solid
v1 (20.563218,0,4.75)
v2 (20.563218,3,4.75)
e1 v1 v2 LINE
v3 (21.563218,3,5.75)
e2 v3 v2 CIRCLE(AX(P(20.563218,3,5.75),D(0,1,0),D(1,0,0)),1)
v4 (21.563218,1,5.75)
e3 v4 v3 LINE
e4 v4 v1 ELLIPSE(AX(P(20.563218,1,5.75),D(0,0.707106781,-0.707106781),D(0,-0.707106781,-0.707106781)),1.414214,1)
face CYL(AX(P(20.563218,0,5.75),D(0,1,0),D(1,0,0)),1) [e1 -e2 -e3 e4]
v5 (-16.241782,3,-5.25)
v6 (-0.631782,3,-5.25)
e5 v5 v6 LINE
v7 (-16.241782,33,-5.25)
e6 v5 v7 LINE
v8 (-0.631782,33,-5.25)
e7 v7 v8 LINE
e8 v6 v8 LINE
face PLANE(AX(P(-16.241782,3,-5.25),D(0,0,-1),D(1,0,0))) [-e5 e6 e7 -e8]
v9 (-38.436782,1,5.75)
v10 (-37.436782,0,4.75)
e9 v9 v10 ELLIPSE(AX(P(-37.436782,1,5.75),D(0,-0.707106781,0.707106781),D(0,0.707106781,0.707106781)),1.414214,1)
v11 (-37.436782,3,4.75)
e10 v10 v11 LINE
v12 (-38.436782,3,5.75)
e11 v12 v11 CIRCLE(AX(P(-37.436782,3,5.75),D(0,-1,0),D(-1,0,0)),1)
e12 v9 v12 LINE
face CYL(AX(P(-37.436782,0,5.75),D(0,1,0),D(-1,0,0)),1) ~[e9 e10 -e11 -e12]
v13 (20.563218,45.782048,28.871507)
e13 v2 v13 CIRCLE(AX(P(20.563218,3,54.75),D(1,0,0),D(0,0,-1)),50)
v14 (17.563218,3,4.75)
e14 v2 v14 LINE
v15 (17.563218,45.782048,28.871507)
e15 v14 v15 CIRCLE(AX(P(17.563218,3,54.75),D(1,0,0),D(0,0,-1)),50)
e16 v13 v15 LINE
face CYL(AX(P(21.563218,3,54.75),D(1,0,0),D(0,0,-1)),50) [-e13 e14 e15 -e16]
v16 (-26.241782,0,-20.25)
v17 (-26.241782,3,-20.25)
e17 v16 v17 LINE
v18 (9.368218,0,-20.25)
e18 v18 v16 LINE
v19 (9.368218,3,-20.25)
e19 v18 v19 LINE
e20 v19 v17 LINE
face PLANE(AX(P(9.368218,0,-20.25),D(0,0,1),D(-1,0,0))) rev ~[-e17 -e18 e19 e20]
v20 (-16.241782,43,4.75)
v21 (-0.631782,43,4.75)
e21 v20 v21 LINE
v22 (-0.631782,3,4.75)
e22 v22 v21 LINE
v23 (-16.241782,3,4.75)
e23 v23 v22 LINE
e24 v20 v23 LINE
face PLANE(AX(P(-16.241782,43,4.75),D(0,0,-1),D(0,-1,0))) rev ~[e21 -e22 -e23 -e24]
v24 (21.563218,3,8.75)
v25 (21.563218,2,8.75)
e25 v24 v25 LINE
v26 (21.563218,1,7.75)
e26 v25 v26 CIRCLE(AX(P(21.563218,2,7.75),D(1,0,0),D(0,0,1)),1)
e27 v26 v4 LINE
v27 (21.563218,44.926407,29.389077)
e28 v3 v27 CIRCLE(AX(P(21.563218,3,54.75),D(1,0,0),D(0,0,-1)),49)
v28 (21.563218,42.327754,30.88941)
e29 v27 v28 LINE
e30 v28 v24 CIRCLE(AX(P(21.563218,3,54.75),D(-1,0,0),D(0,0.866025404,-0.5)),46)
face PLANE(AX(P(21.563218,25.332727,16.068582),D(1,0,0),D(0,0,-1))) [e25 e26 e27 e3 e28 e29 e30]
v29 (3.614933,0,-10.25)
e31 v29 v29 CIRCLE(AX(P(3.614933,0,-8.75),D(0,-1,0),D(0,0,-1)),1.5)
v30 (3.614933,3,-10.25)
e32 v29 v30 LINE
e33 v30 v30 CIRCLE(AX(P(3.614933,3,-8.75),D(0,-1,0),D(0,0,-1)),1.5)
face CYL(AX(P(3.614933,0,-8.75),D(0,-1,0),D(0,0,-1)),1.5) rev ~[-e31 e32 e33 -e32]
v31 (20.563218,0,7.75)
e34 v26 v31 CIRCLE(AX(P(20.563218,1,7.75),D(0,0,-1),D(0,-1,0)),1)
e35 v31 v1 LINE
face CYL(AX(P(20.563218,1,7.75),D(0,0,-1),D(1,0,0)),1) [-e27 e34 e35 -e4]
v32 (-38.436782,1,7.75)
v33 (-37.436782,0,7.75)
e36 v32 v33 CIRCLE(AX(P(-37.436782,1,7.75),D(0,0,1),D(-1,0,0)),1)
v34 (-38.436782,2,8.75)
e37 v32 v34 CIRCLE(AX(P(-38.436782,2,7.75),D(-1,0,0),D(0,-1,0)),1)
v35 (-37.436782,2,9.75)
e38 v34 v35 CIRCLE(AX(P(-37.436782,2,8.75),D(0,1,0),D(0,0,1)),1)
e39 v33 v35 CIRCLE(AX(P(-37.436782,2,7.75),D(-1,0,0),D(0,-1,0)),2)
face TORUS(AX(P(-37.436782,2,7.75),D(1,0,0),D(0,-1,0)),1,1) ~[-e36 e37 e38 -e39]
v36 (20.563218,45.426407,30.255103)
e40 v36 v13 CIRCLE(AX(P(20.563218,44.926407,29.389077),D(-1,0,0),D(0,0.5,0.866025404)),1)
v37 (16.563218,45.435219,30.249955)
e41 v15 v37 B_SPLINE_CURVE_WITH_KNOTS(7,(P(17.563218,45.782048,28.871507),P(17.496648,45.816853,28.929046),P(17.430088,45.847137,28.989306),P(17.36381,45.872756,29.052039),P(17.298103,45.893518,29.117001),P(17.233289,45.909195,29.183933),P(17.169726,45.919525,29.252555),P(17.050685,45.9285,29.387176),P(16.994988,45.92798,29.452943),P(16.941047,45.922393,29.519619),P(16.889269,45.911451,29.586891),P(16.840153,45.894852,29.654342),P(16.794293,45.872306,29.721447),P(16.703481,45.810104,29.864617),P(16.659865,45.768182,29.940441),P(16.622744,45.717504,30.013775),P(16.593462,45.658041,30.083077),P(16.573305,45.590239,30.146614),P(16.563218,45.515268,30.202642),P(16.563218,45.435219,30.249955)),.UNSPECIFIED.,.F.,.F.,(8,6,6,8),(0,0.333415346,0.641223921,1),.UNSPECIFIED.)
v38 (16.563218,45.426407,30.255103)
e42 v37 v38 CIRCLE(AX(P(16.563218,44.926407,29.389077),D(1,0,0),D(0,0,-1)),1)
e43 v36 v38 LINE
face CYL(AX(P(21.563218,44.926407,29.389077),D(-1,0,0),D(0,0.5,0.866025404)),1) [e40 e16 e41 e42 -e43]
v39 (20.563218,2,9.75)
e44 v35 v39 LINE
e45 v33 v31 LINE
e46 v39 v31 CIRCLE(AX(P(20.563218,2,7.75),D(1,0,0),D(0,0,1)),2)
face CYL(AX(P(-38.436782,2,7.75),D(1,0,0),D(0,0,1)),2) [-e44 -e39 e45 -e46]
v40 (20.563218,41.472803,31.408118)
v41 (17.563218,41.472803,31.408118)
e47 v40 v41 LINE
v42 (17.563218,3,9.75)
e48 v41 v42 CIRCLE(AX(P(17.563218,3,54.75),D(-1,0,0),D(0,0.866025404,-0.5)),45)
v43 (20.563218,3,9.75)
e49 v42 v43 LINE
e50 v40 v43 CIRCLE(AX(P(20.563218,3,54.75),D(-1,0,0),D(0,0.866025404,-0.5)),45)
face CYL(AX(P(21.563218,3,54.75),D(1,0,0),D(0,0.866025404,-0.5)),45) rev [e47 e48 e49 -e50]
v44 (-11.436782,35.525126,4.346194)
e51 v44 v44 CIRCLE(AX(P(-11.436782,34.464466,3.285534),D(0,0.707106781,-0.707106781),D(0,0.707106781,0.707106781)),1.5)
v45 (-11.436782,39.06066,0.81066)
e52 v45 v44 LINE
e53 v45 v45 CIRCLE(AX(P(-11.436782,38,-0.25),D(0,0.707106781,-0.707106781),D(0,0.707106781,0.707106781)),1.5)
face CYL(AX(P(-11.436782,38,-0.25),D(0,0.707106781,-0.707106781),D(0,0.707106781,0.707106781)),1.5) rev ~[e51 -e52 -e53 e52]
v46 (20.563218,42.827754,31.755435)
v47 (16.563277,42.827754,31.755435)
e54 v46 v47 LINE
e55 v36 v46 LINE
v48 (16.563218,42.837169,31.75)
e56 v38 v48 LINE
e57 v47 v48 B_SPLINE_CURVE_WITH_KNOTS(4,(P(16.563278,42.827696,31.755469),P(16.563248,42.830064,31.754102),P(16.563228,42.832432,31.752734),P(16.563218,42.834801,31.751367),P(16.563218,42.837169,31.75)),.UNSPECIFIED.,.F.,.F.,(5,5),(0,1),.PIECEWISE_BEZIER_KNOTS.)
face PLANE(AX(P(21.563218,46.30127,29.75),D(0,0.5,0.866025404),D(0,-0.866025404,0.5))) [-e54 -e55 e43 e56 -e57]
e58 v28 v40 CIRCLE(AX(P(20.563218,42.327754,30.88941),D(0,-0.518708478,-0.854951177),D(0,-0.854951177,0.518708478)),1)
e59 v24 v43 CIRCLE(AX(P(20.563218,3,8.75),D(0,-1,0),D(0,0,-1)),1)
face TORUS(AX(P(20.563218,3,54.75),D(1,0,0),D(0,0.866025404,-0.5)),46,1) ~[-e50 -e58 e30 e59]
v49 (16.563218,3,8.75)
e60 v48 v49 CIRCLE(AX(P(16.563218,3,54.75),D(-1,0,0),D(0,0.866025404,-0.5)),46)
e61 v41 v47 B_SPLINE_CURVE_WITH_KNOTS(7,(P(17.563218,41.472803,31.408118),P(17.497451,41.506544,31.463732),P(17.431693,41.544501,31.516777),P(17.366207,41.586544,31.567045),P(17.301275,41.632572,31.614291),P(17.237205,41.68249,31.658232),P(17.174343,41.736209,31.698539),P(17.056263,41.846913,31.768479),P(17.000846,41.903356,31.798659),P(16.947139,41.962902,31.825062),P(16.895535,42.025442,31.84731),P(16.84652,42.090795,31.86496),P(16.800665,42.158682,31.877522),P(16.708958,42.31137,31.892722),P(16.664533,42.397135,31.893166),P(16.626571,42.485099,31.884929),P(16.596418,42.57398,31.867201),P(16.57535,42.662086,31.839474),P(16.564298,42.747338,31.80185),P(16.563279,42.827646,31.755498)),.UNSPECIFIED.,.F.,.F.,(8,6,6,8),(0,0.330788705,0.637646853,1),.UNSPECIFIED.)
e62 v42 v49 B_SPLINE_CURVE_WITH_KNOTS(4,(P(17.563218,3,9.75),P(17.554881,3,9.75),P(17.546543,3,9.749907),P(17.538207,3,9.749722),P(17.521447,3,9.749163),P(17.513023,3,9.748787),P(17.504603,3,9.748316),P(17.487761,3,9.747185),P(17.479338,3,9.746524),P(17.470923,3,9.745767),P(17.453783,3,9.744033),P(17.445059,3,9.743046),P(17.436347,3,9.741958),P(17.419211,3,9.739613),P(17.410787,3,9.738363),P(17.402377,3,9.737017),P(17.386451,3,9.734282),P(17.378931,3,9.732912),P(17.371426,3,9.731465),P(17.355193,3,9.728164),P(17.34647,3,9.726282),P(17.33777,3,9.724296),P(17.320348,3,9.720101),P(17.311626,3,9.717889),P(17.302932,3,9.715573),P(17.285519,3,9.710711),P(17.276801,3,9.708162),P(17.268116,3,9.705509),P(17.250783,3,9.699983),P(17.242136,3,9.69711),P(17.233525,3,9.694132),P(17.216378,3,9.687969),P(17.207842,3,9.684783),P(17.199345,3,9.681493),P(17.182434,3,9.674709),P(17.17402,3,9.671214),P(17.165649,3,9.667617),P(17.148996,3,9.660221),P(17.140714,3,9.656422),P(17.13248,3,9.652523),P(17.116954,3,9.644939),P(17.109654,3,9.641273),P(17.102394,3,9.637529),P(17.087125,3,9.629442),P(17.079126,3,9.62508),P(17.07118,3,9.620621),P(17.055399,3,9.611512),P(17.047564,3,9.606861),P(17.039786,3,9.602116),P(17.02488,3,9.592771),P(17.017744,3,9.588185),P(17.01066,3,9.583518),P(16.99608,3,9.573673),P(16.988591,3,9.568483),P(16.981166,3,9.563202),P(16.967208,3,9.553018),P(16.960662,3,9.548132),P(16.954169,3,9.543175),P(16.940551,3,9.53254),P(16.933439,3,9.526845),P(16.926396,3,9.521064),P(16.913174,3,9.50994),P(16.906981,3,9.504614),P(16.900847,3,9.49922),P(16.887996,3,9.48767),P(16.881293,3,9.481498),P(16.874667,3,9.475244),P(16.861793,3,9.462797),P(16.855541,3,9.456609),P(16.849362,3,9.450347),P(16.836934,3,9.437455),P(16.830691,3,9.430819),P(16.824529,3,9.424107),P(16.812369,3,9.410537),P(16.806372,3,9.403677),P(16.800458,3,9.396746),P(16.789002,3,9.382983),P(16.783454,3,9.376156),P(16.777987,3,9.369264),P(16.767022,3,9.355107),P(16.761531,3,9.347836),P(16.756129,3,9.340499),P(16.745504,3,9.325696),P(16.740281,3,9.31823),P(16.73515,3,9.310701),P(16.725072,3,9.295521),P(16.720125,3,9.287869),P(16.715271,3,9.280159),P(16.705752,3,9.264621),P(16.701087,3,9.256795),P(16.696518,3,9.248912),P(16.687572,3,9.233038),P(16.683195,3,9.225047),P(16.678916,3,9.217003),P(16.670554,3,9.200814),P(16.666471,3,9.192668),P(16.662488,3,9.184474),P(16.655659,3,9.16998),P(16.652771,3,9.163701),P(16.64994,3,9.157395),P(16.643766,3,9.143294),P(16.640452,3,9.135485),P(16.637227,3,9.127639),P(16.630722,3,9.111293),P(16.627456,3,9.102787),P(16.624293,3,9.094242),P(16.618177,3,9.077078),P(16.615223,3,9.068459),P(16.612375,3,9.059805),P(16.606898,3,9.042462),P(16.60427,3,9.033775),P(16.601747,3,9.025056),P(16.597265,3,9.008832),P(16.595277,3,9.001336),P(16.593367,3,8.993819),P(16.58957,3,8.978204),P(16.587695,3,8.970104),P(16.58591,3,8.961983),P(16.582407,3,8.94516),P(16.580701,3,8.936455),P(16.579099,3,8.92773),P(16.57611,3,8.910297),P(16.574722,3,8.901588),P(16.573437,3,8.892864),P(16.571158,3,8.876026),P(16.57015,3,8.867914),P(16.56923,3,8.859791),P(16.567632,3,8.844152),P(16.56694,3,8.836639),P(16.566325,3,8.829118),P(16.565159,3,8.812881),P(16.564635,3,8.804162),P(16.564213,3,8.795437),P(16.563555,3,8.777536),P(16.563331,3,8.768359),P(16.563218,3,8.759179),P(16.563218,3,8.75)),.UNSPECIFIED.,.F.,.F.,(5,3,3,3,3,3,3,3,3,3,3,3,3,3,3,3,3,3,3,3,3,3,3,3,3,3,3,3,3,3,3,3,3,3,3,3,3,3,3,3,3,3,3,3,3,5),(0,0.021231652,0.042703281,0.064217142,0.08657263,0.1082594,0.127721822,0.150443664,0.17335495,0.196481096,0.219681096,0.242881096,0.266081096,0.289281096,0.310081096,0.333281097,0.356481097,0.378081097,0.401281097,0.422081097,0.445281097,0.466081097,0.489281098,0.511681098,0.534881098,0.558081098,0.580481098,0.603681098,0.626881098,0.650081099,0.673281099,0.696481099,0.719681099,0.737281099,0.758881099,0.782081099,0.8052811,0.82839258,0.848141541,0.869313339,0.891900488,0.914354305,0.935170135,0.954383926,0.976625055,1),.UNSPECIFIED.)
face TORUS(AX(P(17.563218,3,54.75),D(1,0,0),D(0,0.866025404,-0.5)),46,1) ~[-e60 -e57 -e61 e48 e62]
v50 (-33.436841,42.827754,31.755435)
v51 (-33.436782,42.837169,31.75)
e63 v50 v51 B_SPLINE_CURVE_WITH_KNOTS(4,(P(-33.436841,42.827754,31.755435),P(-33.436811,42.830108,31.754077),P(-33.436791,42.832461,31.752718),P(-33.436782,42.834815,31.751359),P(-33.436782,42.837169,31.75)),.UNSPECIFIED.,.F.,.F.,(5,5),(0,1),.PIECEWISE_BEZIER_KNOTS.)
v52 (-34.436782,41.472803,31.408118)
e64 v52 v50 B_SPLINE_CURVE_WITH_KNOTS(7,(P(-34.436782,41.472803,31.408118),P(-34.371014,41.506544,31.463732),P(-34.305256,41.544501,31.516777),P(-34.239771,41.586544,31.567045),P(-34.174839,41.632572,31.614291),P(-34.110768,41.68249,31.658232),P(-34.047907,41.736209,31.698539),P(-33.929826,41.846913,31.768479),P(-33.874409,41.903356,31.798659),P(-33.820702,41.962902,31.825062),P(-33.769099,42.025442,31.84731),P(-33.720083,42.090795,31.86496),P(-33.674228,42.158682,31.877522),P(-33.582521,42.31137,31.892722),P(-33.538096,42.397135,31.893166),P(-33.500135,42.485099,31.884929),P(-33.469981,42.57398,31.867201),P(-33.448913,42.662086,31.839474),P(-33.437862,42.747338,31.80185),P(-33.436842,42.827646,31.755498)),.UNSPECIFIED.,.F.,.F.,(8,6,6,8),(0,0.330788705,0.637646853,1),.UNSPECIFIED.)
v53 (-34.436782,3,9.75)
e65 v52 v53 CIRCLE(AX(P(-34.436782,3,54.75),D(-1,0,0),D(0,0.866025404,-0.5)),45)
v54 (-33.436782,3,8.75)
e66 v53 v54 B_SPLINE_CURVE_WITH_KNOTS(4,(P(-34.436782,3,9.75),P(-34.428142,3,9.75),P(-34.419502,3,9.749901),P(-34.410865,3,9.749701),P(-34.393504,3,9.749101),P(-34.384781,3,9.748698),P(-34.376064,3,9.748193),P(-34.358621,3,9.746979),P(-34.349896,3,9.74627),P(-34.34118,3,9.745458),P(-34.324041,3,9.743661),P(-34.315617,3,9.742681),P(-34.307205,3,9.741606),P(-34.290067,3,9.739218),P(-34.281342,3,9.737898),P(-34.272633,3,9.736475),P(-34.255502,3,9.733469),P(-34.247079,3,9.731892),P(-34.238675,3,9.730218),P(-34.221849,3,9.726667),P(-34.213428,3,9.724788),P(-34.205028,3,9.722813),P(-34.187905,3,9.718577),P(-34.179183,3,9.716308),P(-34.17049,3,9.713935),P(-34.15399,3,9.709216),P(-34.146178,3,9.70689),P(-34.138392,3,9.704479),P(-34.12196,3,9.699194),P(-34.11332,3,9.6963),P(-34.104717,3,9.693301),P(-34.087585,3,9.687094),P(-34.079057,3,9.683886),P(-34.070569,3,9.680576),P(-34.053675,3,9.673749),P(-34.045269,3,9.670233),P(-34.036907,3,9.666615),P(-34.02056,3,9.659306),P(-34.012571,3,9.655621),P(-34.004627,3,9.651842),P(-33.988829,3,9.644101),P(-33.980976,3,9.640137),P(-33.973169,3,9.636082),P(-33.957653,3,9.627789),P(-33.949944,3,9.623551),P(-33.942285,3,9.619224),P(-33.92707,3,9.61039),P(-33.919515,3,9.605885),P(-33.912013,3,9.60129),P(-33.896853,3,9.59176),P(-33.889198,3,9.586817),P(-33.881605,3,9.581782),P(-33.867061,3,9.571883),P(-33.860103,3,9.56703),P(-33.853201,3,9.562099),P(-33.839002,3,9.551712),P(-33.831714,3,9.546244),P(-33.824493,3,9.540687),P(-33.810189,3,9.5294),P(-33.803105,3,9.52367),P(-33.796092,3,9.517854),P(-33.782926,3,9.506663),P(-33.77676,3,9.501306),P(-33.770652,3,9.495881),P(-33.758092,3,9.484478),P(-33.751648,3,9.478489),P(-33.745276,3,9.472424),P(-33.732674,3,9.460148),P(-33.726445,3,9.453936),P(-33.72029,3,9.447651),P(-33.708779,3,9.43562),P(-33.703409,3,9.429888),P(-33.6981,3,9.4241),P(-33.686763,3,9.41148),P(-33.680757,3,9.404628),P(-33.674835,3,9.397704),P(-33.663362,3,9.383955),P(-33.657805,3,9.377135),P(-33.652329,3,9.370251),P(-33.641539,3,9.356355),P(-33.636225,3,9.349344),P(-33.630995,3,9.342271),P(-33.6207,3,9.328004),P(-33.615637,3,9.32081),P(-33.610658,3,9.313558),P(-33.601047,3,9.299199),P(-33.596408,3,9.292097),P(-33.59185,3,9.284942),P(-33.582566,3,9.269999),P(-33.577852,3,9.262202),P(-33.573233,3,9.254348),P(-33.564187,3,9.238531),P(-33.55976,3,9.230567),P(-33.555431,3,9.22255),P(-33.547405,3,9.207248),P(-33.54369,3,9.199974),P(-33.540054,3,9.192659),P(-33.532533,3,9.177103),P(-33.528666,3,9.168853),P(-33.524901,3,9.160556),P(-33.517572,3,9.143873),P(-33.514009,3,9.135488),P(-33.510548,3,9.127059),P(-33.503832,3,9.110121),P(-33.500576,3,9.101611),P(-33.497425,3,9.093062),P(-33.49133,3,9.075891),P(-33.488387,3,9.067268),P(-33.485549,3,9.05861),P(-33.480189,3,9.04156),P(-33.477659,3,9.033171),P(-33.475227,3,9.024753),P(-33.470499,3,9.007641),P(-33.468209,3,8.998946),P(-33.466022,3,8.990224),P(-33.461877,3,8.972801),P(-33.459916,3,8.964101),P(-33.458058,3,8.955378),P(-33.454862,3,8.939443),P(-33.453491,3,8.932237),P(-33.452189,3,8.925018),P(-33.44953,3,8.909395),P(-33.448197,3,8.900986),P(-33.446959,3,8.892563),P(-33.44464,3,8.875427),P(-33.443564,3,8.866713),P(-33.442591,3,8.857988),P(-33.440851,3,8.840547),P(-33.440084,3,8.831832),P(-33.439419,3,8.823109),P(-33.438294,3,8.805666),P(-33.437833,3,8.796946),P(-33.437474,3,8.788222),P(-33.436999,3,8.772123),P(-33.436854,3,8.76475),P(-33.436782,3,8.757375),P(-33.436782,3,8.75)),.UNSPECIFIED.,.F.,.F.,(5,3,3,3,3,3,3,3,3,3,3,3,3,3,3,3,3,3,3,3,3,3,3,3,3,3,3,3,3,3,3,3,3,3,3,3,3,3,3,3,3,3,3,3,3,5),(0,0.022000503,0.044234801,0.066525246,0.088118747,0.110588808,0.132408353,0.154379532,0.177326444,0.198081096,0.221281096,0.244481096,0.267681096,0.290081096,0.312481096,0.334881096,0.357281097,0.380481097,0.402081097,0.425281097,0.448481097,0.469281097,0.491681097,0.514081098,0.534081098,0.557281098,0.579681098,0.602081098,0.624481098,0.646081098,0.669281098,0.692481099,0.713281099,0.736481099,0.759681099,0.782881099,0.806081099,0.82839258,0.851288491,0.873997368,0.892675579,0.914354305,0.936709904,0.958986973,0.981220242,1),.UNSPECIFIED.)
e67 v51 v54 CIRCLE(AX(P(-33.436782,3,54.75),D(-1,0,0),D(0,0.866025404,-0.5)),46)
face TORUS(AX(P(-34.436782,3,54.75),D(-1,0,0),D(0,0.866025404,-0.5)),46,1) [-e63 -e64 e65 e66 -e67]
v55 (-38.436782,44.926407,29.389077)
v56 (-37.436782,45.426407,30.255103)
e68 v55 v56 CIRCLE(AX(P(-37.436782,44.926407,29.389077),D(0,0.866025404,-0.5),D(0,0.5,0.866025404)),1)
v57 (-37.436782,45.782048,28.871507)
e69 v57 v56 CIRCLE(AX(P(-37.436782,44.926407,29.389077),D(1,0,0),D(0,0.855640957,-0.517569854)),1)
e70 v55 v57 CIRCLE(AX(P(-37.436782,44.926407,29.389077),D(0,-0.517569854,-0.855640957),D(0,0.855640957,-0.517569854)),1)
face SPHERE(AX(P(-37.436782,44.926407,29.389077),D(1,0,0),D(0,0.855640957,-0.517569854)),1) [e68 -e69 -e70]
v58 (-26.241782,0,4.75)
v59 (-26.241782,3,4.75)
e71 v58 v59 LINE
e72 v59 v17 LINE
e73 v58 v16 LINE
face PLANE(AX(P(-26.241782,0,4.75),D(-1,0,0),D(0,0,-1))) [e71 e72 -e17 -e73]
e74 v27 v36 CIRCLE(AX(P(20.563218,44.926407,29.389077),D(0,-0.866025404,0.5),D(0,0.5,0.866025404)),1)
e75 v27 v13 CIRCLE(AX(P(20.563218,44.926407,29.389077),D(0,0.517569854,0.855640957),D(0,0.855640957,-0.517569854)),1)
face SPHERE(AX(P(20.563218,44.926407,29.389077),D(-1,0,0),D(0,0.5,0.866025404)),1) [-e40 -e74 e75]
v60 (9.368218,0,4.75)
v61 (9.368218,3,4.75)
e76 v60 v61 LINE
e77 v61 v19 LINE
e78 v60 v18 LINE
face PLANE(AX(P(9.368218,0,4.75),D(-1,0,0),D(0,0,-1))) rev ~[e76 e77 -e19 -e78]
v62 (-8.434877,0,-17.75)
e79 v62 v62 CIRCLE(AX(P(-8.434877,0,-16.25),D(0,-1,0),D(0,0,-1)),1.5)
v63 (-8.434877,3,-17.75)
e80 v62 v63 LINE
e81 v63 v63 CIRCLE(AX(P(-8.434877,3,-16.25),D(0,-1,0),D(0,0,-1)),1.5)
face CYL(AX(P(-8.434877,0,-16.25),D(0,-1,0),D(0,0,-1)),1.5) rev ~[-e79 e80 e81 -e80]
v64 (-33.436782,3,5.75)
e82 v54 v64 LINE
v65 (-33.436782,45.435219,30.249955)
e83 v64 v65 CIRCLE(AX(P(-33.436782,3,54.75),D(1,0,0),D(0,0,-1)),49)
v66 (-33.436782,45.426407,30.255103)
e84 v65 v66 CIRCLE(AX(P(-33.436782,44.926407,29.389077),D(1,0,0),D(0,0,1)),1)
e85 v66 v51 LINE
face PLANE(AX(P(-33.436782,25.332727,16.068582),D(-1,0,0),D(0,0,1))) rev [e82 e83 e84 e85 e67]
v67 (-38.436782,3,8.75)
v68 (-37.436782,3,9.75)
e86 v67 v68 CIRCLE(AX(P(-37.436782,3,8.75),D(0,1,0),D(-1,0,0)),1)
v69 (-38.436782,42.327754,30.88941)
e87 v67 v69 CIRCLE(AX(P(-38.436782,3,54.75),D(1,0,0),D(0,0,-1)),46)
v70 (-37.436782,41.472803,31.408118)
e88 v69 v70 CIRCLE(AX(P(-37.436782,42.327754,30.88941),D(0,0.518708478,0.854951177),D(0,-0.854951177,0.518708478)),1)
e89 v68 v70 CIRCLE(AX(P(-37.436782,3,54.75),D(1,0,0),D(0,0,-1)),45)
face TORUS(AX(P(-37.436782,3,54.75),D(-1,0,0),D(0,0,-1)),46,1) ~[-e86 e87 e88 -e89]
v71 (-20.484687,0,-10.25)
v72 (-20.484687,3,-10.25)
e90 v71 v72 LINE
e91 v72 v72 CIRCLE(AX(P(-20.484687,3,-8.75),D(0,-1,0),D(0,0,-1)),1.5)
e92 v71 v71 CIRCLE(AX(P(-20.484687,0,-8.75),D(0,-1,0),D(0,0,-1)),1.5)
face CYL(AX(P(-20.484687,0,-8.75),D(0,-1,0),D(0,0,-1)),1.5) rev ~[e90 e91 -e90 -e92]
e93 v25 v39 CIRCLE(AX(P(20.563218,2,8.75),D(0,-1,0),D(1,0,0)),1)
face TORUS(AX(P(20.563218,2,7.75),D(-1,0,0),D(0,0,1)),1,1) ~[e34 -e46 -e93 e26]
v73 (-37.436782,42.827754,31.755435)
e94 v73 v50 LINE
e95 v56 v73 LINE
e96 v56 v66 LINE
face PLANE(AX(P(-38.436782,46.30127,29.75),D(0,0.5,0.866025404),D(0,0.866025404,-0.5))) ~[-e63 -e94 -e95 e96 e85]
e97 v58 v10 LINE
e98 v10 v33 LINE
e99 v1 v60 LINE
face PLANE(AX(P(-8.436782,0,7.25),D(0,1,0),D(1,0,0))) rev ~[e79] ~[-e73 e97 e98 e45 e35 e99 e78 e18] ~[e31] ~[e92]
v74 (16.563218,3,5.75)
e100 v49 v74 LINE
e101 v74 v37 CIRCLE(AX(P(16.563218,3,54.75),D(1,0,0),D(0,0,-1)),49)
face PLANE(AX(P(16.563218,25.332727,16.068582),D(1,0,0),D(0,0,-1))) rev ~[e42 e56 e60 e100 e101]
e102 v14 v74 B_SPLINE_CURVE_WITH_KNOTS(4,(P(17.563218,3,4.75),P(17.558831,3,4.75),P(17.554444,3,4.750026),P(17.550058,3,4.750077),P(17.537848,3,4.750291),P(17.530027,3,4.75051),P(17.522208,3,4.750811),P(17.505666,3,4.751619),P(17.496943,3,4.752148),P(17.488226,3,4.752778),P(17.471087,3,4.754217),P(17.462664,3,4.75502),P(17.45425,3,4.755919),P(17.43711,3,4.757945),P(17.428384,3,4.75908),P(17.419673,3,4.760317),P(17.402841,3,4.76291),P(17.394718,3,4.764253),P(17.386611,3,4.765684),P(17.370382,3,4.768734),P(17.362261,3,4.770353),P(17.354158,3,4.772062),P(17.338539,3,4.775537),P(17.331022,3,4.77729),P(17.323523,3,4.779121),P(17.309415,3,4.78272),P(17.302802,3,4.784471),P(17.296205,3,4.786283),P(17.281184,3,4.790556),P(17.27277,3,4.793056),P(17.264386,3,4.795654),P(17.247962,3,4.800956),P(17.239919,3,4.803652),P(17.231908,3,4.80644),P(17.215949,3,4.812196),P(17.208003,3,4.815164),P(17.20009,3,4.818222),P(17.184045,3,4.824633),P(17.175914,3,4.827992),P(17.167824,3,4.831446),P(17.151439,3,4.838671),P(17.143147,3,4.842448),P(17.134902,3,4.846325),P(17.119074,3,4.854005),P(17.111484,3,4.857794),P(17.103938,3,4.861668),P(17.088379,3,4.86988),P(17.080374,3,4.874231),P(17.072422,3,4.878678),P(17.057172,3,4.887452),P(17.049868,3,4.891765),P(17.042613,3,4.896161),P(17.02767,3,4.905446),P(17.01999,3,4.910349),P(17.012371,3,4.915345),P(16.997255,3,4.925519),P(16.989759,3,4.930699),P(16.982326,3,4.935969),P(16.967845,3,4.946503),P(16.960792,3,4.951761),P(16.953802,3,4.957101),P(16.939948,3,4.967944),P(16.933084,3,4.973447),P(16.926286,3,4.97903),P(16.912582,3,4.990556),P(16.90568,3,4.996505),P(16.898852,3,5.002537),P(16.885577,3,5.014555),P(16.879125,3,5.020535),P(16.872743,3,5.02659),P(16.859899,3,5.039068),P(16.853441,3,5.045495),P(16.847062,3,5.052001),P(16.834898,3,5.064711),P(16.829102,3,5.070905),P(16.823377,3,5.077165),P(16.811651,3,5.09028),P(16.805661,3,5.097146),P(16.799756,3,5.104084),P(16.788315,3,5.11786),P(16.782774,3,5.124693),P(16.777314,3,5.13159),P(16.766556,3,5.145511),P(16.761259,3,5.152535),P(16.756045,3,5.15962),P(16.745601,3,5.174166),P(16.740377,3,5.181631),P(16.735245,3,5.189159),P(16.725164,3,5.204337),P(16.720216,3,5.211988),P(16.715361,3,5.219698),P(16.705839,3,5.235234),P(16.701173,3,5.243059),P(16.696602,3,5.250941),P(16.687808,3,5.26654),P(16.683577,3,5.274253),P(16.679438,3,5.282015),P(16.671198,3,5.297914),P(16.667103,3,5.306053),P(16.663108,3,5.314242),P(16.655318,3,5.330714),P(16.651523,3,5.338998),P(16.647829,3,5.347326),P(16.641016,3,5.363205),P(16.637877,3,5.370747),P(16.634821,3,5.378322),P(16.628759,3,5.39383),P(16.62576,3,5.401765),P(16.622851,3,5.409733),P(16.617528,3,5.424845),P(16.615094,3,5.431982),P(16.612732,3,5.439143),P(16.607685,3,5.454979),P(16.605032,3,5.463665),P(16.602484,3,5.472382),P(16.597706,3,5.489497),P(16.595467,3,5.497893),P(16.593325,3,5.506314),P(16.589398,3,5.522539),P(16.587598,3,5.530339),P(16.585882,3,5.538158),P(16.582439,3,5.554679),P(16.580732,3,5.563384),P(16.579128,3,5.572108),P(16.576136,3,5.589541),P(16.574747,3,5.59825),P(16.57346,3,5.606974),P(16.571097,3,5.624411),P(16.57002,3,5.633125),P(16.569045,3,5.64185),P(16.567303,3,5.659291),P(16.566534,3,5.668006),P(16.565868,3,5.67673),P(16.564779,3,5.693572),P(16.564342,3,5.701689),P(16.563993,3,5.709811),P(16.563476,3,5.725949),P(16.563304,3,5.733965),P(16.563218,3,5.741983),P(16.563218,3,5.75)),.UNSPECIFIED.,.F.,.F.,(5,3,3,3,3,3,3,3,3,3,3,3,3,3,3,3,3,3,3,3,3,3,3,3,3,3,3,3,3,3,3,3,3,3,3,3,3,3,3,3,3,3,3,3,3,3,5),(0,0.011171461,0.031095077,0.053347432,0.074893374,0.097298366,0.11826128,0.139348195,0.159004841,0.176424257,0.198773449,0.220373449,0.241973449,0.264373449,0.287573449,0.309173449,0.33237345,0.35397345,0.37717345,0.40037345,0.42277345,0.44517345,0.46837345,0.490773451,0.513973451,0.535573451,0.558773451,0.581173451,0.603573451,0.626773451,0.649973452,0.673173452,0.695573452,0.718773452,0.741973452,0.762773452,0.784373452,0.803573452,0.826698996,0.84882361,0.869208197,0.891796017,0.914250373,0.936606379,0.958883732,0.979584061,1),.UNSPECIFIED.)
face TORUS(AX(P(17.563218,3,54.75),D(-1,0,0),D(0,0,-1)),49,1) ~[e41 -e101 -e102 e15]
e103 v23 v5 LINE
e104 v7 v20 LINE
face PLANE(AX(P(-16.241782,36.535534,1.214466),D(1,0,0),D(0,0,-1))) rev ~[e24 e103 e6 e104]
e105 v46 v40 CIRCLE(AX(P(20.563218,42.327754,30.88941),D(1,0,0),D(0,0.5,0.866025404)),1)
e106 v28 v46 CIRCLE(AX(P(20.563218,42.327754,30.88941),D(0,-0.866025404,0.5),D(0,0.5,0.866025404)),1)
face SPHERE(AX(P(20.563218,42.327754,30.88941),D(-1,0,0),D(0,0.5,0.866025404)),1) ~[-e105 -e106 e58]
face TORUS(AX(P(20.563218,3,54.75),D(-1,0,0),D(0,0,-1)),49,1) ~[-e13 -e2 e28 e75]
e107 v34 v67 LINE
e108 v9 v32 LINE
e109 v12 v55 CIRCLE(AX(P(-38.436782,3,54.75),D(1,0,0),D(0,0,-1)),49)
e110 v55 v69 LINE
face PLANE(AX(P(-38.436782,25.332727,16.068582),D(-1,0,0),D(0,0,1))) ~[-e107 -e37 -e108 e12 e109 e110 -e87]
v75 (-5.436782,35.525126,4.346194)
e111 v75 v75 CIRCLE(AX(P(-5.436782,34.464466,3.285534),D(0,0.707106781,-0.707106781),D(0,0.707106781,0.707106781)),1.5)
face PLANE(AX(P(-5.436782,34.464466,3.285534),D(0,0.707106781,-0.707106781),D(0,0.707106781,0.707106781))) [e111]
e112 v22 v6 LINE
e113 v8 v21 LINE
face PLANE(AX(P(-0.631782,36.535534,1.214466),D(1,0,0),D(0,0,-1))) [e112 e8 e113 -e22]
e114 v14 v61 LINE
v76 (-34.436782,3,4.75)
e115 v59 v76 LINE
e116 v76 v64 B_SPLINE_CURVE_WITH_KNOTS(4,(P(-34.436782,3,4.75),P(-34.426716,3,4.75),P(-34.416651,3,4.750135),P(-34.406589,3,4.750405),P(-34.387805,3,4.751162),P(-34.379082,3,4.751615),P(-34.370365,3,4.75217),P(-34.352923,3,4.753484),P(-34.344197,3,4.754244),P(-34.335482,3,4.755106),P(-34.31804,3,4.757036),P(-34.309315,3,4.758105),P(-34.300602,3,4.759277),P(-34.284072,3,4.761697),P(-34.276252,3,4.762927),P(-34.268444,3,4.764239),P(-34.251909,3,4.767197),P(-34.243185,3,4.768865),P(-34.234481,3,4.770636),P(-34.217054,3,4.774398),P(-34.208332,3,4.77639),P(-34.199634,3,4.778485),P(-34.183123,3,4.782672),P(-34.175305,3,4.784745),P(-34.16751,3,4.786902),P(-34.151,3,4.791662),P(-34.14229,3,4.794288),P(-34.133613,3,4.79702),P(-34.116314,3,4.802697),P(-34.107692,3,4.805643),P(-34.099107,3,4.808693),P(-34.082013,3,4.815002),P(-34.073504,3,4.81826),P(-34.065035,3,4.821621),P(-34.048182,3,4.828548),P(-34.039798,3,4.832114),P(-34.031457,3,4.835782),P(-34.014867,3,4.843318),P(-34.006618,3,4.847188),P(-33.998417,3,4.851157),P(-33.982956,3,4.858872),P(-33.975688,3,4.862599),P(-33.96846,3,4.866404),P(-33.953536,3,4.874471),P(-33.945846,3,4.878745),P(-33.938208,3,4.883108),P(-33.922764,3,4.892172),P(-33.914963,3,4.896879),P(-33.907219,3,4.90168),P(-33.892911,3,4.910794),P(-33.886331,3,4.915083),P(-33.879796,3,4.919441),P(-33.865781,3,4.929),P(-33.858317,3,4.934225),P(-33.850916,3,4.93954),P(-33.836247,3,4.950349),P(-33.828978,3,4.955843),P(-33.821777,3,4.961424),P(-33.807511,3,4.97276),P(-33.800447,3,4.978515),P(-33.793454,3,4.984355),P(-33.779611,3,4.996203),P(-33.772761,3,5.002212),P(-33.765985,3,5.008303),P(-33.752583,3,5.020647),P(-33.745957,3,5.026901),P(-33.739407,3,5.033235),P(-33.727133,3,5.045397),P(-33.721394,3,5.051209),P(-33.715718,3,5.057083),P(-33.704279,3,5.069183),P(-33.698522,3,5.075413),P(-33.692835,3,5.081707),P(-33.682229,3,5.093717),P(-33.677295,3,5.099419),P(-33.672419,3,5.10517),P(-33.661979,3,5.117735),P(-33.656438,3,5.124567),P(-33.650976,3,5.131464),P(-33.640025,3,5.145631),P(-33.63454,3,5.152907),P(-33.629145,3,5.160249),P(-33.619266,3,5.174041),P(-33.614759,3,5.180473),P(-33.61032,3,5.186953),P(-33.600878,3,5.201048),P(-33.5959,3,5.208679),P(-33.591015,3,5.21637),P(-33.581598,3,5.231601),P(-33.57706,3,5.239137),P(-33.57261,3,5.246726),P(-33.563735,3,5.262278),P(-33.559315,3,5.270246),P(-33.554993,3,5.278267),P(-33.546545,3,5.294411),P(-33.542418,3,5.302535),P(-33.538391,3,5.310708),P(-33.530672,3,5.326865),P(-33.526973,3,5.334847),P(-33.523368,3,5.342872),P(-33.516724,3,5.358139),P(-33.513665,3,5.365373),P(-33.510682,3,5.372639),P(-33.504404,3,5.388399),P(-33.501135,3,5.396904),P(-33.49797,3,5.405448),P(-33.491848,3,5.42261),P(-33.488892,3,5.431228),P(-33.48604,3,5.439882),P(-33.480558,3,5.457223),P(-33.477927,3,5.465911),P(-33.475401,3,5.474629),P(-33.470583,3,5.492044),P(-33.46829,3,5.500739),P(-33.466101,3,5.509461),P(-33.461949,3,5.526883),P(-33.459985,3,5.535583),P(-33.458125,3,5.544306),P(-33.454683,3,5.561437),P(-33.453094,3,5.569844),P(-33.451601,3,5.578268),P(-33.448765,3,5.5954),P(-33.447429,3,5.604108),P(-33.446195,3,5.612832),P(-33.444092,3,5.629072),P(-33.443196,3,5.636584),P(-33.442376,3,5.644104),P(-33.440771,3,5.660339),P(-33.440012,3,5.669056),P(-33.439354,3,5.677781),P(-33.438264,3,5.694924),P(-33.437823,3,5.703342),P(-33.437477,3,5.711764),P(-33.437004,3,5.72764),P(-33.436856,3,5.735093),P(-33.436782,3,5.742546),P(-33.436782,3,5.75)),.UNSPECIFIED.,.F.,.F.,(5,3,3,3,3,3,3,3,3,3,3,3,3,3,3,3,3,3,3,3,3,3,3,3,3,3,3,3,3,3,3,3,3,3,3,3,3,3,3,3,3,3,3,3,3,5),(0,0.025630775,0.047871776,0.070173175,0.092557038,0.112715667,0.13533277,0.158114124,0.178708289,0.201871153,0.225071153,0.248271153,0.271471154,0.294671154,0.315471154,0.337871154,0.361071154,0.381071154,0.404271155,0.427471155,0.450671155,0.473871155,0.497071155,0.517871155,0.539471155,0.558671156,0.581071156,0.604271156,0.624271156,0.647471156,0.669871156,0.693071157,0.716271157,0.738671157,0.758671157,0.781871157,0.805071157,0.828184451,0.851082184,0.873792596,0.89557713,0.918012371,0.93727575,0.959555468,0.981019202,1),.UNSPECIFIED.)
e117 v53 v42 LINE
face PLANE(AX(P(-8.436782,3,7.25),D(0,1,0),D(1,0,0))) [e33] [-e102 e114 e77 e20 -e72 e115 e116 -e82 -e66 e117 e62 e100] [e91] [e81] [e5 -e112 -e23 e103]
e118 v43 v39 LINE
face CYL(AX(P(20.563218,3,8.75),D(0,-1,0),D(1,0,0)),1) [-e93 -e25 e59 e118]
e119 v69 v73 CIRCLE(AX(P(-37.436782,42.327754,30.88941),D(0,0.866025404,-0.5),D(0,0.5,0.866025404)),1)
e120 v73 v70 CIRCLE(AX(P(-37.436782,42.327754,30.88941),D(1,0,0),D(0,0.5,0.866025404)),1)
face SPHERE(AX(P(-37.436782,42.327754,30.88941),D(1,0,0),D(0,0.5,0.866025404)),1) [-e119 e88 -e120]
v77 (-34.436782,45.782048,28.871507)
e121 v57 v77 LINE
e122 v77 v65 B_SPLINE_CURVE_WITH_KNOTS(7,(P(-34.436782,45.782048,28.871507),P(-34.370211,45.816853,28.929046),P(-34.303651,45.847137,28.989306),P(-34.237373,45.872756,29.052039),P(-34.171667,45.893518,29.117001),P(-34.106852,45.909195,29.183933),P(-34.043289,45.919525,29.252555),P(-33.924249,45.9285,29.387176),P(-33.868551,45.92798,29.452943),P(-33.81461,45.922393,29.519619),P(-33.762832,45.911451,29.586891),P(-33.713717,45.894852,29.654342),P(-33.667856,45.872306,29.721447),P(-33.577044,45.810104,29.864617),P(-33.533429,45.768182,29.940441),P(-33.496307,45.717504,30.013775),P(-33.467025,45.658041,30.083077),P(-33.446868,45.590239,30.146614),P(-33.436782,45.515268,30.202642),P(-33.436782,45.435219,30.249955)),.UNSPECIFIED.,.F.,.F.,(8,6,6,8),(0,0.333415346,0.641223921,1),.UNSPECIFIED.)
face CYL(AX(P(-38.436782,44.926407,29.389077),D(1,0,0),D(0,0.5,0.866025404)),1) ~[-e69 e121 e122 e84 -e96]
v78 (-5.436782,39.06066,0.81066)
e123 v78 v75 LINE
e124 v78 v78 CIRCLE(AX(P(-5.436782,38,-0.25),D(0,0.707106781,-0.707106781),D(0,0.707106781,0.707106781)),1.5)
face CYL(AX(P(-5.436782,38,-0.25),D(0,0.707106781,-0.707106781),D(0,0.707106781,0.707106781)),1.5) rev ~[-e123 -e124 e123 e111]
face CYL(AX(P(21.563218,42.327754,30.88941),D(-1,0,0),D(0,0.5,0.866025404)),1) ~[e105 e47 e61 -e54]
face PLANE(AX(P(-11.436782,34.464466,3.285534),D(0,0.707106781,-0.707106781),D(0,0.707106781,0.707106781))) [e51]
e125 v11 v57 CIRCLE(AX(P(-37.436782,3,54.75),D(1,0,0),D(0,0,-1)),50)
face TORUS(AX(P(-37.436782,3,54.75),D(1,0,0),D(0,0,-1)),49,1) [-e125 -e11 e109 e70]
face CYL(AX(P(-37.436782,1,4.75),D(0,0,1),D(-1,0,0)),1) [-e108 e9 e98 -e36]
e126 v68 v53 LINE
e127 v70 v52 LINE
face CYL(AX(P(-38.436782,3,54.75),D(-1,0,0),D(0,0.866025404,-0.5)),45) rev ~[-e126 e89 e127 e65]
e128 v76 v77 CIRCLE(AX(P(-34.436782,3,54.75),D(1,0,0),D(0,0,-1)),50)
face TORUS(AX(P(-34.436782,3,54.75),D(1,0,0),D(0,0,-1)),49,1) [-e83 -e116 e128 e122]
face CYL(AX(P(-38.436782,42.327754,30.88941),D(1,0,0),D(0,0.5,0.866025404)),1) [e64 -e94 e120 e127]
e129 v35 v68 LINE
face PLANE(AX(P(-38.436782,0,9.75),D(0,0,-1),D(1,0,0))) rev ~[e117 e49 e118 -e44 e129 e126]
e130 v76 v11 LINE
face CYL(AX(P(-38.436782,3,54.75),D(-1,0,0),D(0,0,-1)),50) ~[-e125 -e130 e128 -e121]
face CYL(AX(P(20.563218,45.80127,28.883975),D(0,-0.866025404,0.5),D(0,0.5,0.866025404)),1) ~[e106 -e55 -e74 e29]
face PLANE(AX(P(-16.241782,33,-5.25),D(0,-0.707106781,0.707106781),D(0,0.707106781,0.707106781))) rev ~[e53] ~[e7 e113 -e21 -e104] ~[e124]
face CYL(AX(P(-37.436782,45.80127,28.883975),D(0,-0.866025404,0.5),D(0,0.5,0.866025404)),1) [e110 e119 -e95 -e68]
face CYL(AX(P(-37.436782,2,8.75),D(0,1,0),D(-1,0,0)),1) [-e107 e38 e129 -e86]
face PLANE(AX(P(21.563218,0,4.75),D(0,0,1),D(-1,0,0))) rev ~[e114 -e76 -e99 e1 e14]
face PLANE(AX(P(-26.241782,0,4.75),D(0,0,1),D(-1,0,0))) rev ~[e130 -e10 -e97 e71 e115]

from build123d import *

# Parameters (mm, degrees)
SKETCH1_W           = 17.805
SKETCH1_H           = 25
BOSS_EXTRUDE1_DEPTH = 3
FILLET1_R           = 2
BOSS_EXTRUDE3_DEPTH = 5
FILLET2_R           = 1
FILLET3_R           = 1
SKETCH3_R           = 1.5
CUT_EXTRUDE1_DEPTH  = 5
SKETCH7_W           = 15.61
SKETCH7_H           = 10
BOSS_EXTRUDE4_DEPTH = 30
BOSS_EXTRUDE5_DEPTH = 15.61
SKETCH9_R           = 1.5
CUT_EXTRUDE2_DEPTH  = 5


with BuildPart() as part:
    # Sketch1 → Boss-Extrude1 (new body)
    with BuildSketch(Plane(origin=(0, 0, 0), x_dir=(1, 0, 0), z_dir=(0, 1, 0))):
        Polygon((9.368218391, -4.75), (-8.436781609, -4.75), (-26.241781609, -4.75), (-38.436781609, -4.75), (-38.436781609, -9.75), (21.563218391, -9.75), (21.563218391, -4.75), align=None)
        with Locations((0.465718391, 7.75)):
            Rectangle(SKETCH1_W, SKETCH1_H)
        with Locations((-17.339281609, 7.75)):
            Rectangle(SKETCH1_W, SKETCH1_H)
    extrude(amount=BOSS_EXTRUDE1_DEPTH)

    # Fillet1
    fillet1_edges = [part.edges().sort_by_distance(p)[0] for p in [
        (-8.436781609, 0, 9.75),
    ]]
    fillet(fillet1_edges, radius=FILLET1_R)

    # Sketch2 → Boss-Extrude3 (add)
    with BuildSketch(Plane(origin=(21.563218391, 0, 0), x_dir=(0, 0, -1), z_dir=(1, 0, 0))):
        with BuildLine():
            Line((-29.75, 46.301270189), (-32.25, 41.97114317))
            ThreePointArc((-32.25, 41.97114317), (-15.77885683, 25.5), (-9.75, 3))
            Line((-9.75, 3), (-4.75, 3))
            ThreePointArc((-4.75, 3), (-11.448729811, 28), (-29.75, 46.301270189))
        make_face()
    boss_extrude3 = extrude(amount=-BOSS_EXTRUDE3_DEPTH)

    # Fillet2
    fillet2_edges = [part.edges().sort_by_distance(p)[0] for p in [
        (21.563218391, 0, 6.25),
        (21.563218391, 2.5, 9.75),
        (21.563218391, 1.5, 4.75),
        (21.563218391, 0.585786438, 9.164213562),
        (16.563218391, 25.5, 15.77885683),
        (19.063218391, 41.97114317, 32.25),
        (16.563218391, 28, 11.448729811),
        (19.063218391, 46.301270189, 29.75),
        (21.563218391, 25.5, 15.77885683),
        (21.563218391, 28, 11.448729811),
        (21.563218391, 44.13620668, 31),
    ]]
    fillet(fillet2_edges, radius=FILLET2_R)

    # Mirror3: Boss-Extrude3 across plane
    add(boss_extrude3.mirror(Plane(origin=(-8.436781609, 0, 0), x_dir=(0, 0, 1), z_dir=(1, 0, 0))))

    # Fillet3
    fillet3_edges = [part.edges().sort_by_distance(p)[0] for p in [
        (-38.436781609, 0, 6.25),
        (-38.436781609, 2.5, 9.75),
        (-38.436781609, 1.5, 4.75),
        (-38.436781609, 0.585786438, 9.164213562),
        (-38.436781609, 25.5, 15.77885683),
        (-35.936781609, 41.97114317, 32.25),
        (-38.436781609, 28, 11.448729811),
        (-38.436781609, 44.13620668, 31),
        (-35.936781609, 46.301270189, 29.75),
        (-33.436781609, 25.5, 15.77885683),
        (-33.436781609, 28, 11.448729811),
    ]]
    fillet(fillet3_edges, radius=FILLET3_R)

    # Sketch3 → Cut-Extrude1 (cut)
    with BuildSketch(Plane.XZ):
        with Locations(Location((-20.484687418, -8.75, 0), (0, 0, 270))):
            Circle(SKETCH3_R)
        with Locations(Location((-8.434877213, -16.25, 0), (0, 0, 270))):
            Circle(SKETCH3_R)
        with Locations(Location((3.614932992, -8.75, 0), (0, 0, 270))):
            Circle(SKETCH3_R)
    extrude(amount=-CUT_EXTRUDE1_DEPTH, mode=Mode.SUBTRACT)

    # Sketch7 → Boss-Extrude4 (add)
    with BuildSketch(Plane(origin=(0, 3, 0), x_dir=(1, 0, 0), z_dir=(0, 1, 0))):
        with Locations((-8.436781609, 0.25)):
            Rectangle(SKETCH7_W, SKETCH7_H)
    extrude(amount=BOSS_EXTRUDE4_DEPTH)

    # Sketch8 → Boss-Extrude5 (add)
    with BuildSketch(Plane.ZY.offset(16.241781609)):
        Polygon((-5.25, 33), (4.75, 43), (4.75, 33), align=None)
    extrude(amount=-BOSS_EXTRUDE5_DEPTH)

    # Sketch9 → Cut-Extrude2 (cut)
    with BuildSketch(Plane(origin=(0, 19.125, -19.125), x_dir=(1, 0, 0), z_dir=(0, 0.7071067811865461, -0.7071067811865489))):
        with Locations(Location((-11.436781609, -26.69328099, 0), (0, 0, 270))):
            Circle(SKETCH9_R)
        with Locations(Location((-5.436781609, -26.69328099, 0), (0, 0, 270))):
            Circle(SKETCH9_R)
    extrude(amount=-CUT_EXTRUDE2_DEPTH, mode=Mode.SUBTRACT)


solid = part.part
